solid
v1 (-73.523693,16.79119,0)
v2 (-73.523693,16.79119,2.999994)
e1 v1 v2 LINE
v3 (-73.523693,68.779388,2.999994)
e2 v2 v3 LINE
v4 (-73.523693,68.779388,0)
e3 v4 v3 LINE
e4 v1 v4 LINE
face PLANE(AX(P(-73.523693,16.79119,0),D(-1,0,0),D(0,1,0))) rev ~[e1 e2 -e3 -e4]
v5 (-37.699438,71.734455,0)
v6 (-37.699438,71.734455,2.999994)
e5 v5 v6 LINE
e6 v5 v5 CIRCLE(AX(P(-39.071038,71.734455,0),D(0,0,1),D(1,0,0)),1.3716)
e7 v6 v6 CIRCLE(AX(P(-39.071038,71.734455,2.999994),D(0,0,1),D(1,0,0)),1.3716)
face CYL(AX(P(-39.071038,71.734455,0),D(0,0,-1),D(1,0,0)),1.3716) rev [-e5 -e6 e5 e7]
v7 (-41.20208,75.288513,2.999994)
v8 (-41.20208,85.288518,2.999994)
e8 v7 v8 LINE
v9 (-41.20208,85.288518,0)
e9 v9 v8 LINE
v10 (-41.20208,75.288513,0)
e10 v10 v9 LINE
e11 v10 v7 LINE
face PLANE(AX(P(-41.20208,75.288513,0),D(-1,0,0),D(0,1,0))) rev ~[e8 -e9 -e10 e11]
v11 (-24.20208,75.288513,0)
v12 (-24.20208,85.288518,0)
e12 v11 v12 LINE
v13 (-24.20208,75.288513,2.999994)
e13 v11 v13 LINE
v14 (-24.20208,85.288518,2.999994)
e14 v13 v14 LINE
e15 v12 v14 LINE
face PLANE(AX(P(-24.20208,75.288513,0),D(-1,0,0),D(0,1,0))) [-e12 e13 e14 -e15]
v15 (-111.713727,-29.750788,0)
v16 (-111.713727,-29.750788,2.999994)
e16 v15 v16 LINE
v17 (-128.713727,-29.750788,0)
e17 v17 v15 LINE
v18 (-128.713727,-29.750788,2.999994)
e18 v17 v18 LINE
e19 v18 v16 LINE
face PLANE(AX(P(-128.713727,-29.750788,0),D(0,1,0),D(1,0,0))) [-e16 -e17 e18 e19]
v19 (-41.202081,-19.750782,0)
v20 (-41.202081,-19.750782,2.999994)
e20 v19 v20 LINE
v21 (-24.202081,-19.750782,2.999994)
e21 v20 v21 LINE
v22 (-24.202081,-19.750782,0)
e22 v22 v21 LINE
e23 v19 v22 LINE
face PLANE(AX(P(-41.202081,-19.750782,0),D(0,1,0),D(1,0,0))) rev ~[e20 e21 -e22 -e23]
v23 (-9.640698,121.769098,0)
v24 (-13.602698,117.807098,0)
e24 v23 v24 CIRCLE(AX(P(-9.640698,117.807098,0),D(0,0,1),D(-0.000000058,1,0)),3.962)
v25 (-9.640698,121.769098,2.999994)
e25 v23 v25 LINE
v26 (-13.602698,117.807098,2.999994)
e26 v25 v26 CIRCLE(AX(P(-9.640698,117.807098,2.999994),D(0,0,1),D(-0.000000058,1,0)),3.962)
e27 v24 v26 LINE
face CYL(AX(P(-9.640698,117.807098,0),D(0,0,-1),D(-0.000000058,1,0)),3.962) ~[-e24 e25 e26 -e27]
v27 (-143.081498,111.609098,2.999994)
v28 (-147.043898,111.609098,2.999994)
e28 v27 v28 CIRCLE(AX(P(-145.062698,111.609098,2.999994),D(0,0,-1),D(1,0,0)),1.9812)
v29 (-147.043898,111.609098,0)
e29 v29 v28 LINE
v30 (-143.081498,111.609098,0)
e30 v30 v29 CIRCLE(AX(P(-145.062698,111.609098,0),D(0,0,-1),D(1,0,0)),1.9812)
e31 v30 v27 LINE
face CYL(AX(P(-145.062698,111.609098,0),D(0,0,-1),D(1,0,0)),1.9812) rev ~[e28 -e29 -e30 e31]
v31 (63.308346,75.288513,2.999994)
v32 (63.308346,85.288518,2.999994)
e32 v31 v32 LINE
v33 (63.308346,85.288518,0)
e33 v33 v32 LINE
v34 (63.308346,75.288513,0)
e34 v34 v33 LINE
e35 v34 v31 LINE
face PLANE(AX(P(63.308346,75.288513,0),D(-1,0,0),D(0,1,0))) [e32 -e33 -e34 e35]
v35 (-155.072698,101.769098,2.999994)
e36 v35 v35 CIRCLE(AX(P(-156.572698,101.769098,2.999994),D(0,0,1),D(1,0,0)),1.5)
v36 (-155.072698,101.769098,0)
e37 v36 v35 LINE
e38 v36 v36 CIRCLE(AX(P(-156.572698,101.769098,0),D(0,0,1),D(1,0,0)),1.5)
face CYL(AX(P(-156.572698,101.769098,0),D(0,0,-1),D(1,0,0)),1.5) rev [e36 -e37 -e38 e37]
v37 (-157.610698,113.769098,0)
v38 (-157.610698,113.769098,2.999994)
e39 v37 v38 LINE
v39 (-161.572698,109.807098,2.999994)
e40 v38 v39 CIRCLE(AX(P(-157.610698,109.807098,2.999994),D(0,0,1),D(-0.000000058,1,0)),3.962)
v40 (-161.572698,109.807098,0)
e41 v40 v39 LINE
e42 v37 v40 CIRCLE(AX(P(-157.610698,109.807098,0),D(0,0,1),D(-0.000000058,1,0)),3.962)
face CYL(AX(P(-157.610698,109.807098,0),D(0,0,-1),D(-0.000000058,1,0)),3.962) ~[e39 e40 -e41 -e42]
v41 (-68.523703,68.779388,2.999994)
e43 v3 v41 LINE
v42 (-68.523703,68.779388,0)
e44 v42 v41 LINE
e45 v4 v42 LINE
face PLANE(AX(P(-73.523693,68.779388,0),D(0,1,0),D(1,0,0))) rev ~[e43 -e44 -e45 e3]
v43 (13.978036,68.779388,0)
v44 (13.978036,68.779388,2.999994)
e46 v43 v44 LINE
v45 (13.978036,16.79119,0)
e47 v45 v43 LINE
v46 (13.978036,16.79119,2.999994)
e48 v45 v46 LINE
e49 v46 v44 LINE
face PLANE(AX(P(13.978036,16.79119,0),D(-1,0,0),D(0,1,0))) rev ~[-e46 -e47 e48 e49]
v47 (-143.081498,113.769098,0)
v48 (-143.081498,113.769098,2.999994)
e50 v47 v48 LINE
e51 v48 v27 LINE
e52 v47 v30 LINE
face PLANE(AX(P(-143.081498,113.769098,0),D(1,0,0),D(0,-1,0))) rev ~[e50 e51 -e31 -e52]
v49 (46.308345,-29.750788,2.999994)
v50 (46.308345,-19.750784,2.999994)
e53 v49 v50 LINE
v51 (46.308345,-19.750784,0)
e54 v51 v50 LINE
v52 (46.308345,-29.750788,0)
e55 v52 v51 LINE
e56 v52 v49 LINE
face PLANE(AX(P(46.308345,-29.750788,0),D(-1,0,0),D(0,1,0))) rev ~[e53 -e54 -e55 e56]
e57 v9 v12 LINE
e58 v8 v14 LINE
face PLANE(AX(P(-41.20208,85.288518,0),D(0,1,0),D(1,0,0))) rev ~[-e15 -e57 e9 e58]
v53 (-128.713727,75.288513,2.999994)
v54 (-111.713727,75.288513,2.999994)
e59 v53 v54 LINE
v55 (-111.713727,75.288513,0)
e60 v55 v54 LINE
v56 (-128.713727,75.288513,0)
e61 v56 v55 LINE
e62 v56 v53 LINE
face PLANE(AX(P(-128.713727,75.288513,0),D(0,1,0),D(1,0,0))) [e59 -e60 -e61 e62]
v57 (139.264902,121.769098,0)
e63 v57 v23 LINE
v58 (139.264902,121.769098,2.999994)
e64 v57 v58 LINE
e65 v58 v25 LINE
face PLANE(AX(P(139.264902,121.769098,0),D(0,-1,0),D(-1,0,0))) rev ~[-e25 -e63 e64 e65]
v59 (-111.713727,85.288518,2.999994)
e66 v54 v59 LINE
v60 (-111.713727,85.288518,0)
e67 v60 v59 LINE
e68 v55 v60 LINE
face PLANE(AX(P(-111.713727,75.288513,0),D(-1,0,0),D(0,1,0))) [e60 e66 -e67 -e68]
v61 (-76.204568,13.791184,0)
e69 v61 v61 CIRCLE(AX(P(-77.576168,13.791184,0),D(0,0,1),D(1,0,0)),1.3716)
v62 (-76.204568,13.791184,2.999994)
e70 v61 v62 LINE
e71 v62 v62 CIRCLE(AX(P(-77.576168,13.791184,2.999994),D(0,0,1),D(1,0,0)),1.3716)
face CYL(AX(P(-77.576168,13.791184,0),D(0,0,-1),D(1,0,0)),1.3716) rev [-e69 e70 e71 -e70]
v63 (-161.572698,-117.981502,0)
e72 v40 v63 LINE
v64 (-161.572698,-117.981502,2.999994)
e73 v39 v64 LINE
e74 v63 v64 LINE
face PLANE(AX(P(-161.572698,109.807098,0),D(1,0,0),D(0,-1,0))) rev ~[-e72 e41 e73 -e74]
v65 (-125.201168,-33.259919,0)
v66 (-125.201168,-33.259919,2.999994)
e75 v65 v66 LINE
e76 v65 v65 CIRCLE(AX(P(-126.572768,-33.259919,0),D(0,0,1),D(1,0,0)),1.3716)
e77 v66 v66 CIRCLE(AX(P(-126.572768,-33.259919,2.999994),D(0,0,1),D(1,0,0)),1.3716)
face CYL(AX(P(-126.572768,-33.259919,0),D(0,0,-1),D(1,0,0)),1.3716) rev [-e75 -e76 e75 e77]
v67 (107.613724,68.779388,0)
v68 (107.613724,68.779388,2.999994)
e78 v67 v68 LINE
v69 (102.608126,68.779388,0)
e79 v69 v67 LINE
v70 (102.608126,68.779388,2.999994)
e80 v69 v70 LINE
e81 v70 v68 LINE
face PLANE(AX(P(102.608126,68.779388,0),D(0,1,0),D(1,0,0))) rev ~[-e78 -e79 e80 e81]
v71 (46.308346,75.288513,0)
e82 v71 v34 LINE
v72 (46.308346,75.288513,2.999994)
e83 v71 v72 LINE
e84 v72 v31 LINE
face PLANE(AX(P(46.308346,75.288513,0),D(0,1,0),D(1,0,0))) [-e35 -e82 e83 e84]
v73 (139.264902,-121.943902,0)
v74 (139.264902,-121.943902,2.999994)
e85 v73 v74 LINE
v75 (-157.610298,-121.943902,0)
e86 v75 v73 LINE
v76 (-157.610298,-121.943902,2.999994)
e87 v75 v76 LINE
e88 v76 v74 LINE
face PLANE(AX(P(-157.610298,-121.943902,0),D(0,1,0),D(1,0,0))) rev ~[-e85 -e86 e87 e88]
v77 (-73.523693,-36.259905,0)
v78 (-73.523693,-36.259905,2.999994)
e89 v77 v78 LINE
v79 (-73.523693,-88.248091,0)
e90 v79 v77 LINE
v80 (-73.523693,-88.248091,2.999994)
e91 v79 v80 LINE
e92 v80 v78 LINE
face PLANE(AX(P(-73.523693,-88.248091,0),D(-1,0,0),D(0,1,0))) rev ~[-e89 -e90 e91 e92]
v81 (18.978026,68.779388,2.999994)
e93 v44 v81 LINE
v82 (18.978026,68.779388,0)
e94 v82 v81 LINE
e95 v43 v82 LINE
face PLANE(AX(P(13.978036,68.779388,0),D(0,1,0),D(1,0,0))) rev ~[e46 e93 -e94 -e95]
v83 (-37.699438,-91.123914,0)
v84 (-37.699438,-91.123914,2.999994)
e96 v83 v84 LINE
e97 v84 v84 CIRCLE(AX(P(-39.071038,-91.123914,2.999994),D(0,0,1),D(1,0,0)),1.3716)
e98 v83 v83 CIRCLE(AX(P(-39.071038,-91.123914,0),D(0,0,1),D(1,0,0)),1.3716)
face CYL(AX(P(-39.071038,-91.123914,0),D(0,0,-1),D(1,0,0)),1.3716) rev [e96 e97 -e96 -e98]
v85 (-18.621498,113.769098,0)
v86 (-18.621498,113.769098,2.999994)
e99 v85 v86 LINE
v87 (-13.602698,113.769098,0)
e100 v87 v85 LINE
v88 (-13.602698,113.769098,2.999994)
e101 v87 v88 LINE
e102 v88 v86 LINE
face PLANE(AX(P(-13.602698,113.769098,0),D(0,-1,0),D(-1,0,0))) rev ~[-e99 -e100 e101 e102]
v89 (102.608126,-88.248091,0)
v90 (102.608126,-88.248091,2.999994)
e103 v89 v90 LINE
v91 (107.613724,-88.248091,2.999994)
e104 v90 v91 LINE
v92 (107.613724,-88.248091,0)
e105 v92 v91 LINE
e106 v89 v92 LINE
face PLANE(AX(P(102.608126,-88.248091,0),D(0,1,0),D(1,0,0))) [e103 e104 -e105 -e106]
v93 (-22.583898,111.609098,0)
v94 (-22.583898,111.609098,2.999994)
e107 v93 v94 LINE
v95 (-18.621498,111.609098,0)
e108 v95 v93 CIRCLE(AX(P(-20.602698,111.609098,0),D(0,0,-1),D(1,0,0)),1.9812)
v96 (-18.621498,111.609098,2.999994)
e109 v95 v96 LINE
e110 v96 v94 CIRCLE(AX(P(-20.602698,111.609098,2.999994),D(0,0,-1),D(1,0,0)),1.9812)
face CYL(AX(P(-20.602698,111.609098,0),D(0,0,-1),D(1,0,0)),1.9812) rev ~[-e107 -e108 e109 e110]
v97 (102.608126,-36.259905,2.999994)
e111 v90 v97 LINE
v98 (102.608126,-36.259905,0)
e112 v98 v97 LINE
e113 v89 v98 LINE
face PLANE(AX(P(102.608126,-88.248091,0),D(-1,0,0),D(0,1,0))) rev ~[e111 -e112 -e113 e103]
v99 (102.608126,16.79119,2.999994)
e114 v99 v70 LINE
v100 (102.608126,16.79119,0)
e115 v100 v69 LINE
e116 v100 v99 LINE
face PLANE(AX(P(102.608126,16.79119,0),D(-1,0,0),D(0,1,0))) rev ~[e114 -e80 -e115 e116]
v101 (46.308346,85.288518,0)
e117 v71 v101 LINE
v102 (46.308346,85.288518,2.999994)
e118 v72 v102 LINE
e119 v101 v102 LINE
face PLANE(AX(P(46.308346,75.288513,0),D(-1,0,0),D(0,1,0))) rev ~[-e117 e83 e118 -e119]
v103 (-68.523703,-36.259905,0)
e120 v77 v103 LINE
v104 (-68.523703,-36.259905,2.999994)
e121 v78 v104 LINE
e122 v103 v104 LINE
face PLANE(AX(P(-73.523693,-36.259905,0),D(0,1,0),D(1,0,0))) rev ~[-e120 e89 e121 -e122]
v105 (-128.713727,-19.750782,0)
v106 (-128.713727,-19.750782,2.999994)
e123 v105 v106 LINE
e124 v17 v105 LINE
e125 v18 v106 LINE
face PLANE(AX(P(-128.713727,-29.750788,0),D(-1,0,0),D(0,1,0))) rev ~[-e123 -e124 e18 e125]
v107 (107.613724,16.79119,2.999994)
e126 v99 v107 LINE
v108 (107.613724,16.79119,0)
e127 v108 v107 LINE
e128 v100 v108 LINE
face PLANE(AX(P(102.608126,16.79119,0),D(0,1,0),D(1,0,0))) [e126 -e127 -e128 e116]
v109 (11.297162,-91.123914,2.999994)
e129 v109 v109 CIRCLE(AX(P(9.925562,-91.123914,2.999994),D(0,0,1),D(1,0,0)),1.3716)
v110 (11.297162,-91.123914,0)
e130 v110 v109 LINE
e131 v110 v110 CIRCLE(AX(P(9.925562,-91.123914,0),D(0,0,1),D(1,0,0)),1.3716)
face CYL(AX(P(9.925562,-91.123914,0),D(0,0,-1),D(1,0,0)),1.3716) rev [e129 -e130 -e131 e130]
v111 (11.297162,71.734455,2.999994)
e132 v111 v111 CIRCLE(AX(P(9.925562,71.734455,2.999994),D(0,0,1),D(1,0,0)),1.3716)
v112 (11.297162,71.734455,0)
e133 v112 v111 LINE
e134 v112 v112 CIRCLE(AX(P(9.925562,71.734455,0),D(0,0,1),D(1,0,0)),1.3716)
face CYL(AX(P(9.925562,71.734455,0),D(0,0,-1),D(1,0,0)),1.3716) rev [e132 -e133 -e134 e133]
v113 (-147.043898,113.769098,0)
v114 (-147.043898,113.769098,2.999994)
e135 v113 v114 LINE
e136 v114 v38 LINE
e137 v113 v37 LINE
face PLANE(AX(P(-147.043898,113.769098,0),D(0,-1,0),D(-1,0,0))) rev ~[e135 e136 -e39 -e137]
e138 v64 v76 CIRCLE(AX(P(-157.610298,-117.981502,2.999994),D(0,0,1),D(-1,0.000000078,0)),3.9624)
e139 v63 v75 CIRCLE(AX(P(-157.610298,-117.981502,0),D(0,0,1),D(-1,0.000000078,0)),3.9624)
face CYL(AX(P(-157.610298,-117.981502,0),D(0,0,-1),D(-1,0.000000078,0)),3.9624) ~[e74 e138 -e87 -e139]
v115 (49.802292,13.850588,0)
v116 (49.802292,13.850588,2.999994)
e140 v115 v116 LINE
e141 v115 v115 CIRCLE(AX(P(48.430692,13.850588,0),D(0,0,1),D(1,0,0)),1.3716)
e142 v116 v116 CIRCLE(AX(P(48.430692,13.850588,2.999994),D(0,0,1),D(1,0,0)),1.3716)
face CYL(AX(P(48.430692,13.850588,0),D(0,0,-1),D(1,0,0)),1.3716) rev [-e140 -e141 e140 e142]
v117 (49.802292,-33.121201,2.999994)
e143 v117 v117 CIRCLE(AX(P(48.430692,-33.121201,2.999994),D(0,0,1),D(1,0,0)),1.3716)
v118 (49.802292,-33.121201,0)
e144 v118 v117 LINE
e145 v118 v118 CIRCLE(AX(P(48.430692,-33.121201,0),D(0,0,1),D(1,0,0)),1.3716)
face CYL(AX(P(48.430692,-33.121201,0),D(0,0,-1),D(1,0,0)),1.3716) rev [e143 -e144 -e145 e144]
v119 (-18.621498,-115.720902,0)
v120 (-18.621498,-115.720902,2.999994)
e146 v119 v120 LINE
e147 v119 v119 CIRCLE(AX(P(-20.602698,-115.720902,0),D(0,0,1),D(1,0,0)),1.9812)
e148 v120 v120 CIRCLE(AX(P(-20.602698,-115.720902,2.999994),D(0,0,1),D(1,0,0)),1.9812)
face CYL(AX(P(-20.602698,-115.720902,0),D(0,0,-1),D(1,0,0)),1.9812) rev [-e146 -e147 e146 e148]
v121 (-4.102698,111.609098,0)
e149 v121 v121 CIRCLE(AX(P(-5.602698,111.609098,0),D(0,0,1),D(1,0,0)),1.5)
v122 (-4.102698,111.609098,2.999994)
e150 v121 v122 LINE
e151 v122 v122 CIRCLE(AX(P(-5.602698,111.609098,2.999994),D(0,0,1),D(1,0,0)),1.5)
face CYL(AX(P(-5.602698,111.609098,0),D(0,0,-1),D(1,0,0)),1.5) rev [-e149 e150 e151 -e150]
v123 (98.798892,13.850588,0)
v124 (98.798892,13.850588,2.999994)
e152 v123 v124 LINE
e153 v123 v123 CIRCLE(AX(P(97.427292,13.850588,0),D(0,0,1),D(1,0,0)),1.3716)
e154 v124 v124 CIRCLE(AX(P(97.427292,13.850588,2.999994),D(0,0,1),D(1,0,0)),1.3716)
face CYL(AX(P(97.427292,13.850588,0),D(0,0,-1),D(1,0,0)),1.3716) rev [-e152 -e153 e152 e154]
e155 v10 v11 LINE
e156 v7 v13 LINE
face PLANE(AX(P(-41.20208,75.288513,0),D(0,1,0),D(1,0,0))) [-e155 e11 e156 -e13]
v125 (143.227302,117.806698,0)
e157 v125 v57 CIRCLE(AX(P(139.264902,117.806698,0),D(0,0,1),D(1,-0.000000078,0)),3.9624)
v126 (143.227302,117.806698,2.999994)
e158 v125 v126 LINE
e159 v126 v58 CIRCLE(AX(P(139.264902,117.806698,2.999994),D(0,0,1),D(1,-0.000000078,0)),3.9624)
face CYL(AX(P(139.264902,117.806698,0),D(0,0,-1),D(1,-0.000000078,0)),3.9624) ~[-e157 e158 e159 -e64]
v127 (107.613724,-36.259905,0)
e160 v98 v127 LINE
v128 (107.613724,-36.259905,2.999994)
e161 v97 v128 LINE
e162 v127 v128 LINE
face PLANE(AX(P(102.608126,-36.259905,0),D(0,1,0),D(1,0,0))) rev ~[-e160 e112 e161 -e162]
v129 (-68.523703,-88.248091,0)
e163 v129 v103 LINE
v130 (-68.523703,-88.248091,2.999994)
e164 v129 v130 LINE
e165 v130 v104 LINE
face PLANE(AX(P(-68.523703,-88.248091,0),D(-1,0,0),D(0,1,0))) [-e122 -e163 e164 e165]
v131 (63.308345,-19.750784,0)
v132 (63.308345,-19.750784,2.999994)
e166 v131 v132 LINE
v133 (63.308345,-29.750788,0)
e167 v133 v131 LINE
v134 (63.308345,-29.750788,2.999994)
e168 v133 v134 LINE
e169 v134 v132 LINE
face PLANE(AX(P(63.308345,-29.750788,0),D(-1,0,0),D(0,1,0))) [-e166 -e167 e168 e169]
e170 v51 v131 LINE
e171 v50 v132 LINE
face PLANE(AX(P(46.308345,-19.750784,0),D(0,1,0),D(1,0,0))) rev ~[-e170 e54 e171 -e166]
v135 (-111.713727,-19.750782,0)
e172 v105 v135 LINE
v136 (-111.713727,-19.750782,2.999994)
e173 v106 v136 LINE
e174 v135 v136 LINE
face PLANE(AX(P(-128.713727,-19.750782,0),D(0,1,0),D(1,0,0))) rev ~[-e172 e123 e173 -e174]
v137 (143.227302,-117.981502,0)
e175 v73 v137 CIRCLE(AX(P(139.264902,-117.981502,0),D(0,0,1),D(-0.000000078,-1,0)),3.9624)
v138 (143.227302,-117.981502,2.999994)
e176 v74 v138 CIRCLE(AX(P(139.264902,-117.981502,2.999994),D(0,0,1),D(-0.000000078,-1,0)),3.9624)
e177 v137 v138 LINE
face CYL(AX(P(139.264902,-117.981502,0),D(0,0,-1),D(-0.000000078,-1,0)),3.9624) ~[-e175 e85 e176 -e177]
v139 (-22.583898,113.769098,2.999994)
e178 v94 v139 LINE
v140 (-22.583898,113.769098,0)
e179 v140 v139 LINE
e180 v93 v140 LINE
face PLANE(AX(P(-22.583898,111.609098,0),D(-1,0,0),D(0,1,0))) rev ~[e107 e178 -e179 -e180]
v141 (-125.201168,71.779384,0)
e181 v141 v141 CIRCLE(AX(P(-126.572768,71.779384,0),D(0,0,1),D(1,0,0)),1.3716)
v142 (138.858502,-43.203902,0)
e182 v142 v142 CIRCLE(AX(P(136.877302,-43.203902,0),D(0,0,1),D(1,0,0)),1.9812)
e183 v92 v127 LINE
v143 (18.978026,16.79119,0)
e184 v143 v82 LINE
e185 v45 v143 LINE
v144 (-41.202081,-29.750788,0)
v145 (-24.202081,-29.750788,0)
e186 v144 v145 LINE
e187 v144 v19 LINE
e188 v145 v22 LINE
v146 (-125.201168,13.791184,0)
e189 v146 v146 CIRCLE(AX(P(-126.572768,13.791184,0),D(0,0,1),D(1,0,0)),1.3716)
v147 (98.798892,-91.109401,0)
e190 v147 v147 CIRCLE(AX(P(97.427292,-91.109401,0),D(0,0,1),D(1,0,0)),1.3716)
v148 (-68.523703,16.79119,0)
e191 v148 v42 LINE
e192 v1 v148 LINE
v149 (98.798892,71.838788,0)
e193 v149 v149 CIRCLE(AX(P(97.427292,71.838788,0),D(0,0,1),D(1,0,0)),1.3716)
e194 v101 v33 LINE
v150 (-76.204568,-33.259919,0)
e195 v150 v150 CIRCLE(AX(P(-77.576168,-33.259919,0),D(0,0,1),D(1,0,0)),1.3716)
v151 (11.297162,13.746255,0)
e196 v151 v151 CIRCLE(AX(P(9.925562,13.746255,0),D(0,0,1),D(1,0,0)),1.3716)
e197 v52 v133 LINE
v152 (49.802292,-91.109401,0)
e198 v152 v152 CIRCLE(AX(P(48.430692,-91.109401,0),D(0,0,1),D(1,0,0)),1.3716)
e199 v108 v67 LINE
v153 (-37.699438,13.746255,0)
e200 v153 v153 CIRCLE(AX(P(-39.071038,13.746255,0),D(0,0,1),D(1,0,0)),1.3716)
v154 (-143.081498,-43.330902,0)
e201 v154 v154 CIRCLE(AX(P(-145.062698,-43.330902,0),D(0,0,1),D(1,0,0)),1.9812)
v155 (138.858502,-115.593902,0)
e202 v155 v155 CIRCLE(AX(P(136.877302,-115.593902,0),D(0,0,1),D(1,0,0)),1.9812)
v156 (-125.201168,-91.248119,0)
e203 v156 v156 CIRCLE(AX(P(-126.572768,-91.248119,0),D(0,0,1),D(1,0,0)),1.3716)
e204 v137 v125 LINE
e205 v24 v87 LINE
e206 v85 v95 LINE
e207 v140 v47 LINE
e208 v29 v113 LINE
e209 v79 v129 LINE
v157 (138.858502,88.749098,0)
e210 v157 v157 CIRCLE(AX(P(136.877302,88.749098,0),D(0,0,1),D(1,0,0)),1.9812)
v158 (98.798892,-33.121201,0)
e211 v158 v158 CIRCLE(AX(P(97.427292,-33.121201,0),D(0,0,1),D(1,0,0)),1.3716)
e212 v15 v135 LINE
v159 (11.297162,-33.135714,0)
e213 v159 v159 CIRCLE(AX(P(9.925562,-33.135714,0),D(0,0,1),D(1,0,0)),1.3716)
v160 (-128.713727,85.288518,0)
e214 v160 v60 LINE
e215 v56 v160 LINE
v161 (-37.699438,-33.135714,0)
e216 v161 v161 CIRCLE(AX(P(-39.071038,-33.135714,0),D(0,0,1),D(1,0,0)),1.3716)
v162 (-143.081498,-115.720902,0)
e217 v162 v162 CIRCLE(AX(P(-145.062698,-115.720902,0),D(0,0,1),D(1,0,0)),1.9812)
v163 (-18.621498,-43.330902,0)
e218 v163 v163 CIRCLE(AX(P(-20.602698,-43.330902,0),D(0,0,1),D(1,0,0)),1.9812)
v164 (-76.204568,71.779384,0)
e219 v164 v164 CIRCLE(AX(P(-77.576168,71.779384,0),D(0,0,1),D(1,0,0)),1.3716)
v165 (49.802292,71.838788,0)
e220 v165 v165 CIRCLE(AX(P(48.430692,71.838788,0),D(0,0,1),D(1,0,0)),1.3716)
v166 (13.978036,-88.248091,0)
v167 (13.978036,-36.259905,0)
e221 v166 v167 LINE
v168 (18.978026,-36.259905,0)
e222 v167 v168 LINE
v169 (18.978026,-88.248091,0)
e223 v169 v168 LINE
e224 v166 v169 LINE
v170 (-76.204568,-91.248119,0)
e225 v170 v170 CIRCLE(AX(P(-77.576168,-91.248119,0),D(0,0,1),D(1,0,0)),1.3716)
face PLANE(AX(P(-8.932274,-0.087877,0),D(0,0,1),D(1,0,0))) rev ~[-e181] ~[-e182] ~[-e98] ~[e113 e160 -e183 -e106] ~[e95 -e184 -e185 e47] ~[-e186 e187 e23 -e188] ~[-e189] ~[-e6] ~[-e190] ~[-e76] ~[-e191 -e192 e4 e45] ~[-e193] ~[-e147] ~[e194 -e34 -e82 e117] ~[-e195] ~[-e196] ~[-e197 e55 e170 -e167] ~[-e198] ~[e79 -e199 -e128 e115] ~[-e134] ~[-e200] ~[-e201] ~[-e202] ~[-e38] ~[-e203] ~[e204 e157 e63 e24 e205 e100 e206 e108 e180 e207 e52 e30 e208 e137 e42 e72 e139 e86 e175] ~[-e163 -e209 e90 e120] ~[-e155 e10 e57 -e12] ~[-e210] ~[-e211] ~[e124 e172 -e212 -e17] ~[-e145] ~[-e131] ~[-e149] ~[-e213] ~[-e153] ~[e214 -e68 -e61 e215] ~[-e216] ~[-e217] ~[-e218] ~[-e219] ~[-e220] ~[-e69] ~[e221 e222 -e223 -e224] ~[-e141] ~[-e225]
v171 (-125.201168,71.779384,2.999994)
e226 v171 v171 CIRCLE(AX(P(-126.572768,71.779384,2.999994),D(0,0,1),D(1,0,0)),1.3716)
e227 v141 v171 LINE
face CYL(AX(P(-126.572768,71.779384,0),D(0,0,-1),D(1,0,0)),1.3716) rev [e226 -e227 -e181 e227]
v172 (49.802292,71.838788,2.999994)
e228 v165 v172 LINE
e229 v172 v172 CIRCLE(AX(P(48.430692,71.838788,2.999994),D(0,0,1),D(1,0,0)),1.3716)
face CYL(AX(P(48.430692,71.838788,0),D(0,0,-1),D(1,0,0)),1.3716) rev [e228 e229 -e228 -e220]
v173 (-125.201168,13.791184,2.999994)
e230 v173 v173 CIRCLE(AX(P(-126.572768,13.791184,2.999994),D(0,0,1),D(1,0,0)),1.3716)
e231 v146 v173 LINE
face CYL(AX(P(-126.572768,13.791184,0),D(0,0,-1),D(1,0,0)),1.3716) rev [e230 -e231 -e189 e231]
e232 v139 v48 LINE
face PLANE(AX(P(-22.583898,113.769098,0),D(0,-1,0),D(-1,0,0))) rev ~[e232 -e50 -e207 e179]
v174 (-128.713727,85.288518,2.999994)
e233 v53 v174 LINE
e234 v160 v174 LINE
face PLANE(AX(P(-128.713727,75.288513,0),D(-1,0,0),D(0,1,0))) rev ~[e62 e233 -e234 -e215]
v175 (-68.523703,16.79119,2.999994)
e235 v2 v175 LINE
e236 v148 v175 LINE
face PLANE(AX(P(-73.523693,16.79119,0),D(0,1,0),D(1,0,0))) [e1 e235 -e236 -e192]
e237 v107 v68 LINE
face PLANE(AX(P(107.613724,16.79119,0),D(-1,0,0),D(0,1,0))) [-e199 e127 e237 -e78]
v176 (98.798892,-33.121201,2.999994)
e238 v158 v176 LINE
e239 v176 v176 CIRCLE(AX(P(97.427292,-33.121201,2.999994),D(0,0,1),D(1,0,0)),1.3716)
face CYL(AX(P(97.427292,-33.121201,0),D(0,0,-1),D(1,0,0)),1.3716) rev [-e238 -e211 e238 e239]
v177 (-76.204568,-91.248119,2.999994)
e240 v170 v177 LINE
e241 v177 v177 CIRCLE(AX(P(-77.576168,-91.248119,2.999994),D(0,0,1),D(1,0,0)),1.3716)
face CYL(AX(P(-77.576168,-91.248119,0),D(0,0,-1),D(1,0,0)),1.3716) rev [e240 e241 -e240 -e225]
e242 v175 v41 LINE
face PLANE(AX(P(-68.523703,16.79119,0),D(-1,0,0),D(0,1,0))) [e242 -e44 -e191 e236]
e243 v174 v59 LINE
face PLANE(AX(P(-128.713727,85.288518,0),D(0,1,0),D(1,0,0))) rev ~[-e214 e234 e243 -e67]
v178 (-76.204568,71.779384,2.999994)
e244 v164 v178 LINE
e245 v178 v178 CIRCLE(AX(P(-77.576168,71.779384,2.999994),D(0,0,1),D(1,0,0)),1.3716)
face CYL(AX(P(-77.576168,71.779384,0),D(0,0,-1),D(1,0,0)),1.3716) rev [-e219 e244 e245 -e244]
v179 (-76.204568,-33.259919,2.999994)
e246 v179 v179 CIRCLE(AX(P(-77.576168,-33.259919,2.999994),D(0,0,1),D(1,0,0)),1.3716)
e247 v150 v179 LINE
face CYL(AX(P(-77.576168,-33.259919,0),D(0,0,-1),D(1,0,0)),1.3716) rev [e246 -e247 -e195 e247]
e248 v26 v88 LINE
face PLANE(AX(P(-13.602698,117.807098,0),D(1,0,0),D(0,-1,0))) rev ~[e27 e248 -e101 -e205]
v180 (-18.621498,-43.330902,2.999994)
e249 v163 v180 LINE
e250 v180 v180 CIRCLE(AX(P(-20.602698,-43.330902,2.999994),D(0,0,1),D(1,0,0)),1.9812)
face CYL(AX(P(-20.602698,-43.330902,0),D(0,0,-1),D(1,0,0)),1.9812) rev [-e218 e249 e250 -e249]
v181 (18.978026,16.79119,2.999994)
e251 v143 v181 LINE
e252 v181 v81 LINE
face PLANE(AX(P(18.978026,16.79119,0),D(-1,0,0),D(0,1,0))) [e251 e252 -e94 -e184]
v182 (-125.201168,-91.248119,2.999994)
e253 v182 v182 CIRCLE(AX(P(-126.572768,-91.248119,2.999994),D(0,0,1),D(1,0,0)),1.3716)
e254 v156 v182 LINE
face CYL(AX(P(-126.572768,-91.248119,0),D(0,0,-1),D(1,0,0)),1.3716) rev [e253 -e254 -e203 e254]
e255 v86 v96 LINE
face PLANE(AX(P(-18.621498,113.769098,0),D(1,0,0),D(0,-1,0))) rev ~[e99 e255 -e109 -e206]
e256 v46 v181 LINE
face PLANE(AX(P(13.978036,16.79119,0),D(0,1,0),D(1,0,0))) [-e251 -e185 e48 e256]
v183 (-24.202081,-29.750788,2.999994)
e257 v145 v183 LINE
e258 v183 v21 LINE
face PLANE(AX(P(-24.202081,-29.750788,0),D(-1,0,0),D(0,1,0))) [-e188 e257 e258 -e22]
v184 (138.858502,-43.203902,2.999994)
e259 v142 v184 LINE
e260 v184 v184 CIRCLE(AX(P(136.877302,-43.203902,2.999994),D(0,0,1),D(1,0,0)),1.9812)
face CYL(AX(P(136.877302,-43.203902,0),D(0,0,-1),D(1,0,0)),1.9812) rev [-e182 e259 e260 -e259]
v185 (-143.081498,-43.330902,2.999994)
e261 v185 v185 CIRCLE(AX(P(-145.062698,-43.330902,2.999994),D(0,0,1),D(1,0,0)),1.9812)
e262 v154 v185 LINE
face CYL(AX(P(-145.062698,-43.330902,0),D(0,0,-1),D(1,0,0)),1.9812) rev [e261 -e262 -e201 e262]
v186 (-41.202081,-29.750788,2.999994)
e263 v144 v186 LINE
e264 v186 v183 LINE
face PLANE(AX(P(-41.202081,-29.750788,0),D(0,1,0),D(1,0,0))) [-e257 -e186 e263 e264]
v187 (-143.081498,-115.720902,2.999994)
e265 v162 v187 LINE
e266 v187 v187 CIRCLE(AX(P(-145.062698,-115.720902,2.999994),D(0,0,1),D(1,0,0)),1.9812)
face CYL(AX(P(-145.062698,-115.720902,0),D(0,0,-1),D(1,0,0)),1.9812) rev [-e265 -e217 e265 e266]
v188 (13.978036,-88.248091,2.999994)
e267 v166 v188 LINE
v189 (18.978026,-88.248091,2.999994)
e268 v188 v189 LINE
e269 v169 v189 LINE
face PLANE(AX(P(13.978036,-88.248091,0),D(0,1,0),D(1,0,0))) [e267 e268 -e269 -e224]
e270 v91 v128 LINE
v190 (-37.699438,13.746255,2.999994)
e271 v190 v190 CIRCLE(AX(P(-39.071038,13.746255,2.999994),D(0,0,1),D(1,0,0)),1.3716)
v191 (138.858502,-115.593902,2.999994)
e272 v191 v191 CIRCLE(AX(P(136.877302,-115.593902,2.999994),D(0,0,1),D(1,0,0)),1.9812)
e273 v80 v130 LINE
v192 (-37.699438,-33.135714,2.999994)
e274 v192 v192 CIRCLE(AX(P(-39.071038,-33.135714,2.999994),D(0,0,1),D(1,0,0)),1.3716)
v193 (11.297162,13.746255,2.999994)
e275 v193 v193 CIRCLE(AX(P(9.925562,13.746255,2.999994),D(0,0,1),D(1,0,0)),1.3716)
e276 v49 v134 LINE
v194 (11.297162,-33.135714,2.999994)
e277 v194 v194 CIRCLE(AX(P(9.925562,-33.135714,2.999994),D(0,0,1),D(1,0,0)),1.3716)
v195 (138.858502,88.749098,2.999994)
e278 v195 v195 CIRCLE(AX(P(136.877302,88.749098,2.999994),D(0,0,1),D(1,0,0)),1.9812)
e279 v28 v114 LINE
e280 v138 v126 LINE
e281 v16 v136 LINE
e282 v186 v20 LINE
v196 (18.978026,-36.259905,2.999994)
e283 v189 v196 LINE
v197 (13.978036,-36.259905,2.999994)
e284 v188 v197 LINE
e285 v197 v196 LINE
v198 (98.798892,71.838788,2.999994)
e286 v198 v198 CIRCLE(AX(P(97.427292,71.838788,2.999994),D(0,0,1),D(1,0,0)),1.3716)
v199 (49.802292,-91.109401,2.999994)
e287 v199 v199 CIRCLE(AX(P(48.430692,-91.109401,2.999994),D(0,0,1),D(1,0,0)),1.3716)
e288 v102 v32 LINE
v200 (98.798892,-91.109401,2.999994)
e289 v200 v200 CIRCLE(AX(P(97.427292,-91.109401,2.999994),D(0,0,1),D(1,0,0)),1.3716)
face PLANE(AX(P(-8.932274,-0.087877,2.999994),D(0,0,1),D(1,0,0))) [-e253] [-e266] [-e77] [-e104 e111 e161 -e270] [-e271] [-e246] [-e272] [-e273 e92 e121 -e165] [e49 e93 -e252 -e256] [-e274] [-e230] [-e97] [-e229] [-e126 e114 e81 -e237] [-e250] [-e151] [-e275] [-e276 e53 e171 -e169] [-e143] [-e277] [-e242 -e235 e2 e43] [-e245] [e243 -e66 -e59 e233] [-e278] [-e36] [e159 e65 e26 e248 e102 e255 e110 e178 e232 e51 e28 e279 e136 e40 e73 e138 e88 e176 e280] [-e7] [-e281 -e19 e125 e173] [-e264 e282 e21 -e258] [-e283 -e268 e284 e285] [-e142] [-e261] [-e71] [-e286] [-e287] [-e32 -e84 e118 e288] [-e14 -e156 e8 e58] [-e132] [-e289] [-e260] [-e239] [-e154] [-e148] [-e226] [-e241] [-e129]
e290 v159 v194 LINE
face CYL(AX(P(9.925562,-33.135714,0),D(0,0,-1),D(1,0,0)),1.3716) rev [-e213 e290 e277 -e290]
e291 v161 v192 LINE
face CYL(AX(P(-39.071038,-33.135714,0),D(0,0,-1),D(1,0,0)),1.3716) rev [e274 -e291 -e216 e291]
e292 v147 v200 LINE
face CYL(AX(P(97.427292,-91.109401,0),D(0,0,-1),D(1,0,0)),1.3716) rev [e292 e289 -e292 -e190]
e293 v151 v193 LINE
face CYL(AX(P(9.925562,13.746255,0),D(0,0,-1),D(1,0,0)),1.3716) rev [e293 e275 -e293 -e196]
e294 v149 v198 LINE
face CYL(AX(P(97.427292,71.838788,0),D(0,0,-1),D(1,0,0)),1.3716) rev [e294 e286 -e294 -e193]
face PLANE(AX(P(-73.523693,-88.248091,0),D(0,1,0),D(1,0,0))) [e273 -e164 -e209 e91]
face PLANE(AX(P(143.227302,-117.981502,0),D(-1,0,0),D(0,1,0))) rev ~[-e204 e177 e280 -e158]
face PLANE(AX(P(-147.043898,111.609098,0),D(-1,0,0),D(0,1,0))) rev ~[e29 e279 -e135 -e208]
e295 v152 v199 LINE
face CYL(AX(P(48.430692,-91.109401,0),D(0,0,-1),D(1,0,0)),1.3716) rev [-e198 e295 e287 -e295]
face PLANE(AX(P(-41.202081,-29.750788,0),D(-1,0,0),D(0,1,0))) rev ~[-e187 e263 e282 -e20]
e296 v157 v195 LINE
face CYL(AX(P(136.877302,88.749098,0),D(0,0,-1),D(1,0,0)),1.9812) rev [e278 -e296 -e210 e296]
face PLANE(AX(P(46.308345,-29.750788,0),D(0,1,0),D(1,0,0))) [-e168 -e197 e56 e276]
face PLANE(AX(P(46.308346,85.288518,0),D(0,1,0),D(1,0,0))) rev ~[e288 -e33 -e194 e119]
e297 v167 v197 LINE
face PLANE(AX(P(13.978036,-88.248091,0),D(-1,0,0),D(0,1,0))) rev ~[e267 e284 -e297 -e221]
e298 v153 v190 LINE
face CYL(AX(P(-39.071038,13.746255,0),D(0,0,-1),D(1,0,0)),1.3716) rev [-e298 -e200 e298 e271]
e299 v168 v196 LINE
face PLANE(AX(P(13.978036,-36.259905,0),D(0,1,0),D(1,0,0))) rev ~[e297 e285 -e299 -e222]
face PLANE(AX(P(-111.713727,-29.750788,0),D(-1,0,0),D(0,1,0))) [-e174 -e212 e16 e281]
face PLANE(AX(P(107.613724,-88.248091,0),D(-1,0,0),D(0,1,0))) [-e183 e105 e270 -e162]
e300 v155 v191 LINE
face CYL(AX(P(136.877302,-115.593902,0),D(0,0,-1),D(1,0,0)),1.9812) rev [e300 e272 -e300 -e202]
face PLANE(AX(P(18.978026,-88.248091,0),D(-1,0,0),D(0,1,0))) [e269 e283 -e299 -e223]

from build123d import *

# Parameters (mm, degrees)
F0_R     = 1.9812
F0_R_2   = 1.3716
F0_W     = 4.99999
F0_H     = 51.988186
F0_W_2   = 17
F0_H_2   = 10.000005
F0_W_3   = 5.005598
F0_H_3   = 51.988198
F0_R_3   = 1.5
F1_DEPTH = 2.999994


with BuildPart() as f1:
    # F0 (on Top) → F1 (new body)
    with BuildSketch(Plane.XY):
        with BuildLine():
            ThreePointArc((-161.572698, -117.981502), (-160.412138, -120.783342), (-157.610298, -121.943902))
            Line((-157.610298, -121.943902), (139.264902, -121.943902))
            ThreePointArc((139.264902, -121.943902), (142.066742, -120.783342), (143.227302, -117.981502))
            Line((143.227302, -117.981502), (143.227302, 117.806698))
            ThreePointArc((143.227302, 117.806698), (142.066742, 120.608538), (139.264902, 121.769098))
            Line((139.264902, 121.769098), (-9.640698, 121.769098))
            ThreePointArc((-9.640698, 121.769098), (-12.442255, 120.608655), (-13.602698, 117.807098))
            Line((-13.602698, 117.807098), (-13.602698, 113.769098))
            Line((-13.602698, 113.769098), (-18.621498, 113.769098))
            Line((-18.621498, 113.769098), (-18.621498, 111.609098))
            ThreePointArc((-18.621498, 111.609098), (-20.602698, 109.627898), (-22.583898, 111.609098))
            Line((-22.583898, 111.609098), (-22.583898, 113.769098))
            Line((-22.583898, 113.769098), (-143.081498, 113.769098))
            Line((-143.081498, 113.769098), (-143.081498, 111.609098))
            ThreePointArc((-143.081498, 111.609098), (-145.062698, 109.627898), (-147.043898, 111.609098))
            Line((-147.043898, 111.609098), (-147.043898, 113.769098))
            Line((-147.043898, 113.769098), (-157.610698, 113.769098))
            ThreePointArc((-157.610698, 113.769098), (-160.412255, 112.608655), (-161.572698, 109.807098))
            Line((-161.572698, 109.807098), (-161.572698, -117.981502))
        make_face()
        with Locations((-145.062698, -115.720902)):
            Circle(F0_R, mode=Mode.SUBTRACT)
        with Locations((-126.572768, -91.248119)):
            Circle(F0_R_2, mode=Mode.SUBTRACT)
        with Locations((-20.602698, -115.720902)):
            Circle(F0_R, mode=Mode.SUBTRACT)
        with Locations((-77.576168, -91.248119)):
            Circle(F0_R_2, mode=Mode.SUBTRACT)
        with Locations((-71.023698, -62.253998)):
            Rectangle(F0_W, F0_H, mode=Mode.SUBTRACT)
        with Locations((-39.071038, -91.123914)):
            Circle(F0_R_2, mode=Mode.SUBTRACT)
        with Locations((-145.062698, -43.330902)):
            Circle(F0_R, mode=Mode.SUBTRACT)
        with Locations((-126.572768, -33.259919)):
            Circle(F0_R_2, mode=Mode.SUBTRACT)
        with Locations((-120.213727, -24.750785)):
            Rectangle(F0_W_2, F0_H_2, mode=Mode.SUBTRACT)
        with Locations((-77.576168, -33.259919)):
            Circle(F0_R_2, mode=Mode.SUBTRACT)
        with Locations((-39.071038, -33.135714)):
            Circle(F0_R_2, mode=Mode.SUBTRACT)
        with Locations((-20.602698, -43.330902)):
            Circle(F0_R, mode=Mode.SUBTRACT)
        with Locations((-32.702081, -24.750785)):
            Rectangle(F0_W_2, F0_H_2, mode=Mode.SUBTRACT)
        with Locations((9.925562, -91.123914)):
            Circle(F0_R_2, mode=Mode.SUBTRACT)
        with Locations((16.478031, -62.253998)):
            Rectangle(F0_W, F0_H, mode=Mode.SUBTRACT)
        with Locations((48.430692, -91.109401)):
            Circle(F0_R_2, mode=Mode.SUBTRACT)
        with Locations((136.877302, -115.593902)):
            Circle(F0_R, mode=Mode.SUBTRACT)
        with Locations((97.427292, -91.109401)):
            Circle(F0_R_2, mode=Mode.SUBTRACT)
        with Locations((105.110925, -62.253998)):
            Rectangle(F0_W_3, F0_H, mode=Mode.SUBTRACT)
        with Locations((9.925562, -33.135714)):
            Circle(F0_R_2, mode=Mode.SUBTRACT)
        with Locations((48.430692, -33.121201)):
            Circle(F0_R_2, mode=Mode.SUBTRACT)
        with Locations((54.808345, -24.750786)):
            Rectangle(F0_W_2, F0_H_2, mode=Mode.SUBTRACT)
        with Locations((97.427292, -33.121201)):
            Circle(F0_R_2, mode=Mode.SUBTRACT)
        with Locations((136.877302, -43.203902)):
            Circle(F0_R, mode=Mode.SUBTRACT)
        with Locations((-126.572768, 13.791184)):
            Circle(F0_R_2, mode=Mode.SUBTRACT)
        with Locations((-77.576168, 13.791184)):
            Circle(F0_R_2, mode=Mode.SUBTRACT)
        with Locations((-39.071038, 13.746255)):
            Circle(F0_R_2, mode=Mode.SUBTRACT)
        with Locations((-71.023698, 42.785289)):
            Rectangle(F0_W, F0_H_3, mode=Mode.SUBTRACT)
        with Locations((-126.572768, 71.779384)):
            Circle(F0_R_2, mode=Mode.SUBTRACT)
        with Locations((-120.213727, 80.288516)):
            Rectangle(F0_W_2, F0_H_2, mode=Mode.SUBTRACT)
        with Locations((-156.572698, 101.769098)):
            Circle(F0_R_3, mode=Mode.SUBTRACT)
        with Locations((-77.576168, 71.779384)):
            Circle(F0_R_2, mode=Mode.SUBTRACT)
        with Locations((-39.071038, 71.734455)):
            Circle(F0_R_2, mode=Mode.SUBTRACT)
        with Locations((-32.70208, 80.288516)):
            Rectangle(F0_W_2, F0_H_2, mode=Mode.SUBTRACT)
        with Locations((9.925562, 13.746255)):
            Circle(F0_R_2, mode=Mode.SUBTRACT)
        with Locations((48.430692, 13.850588)):
            Circle(F0_R_2, mode=Mode.SUBTRACT)
        with Locations((16.478031, 42.785289)):
            Rectangle(F0_W, F0_H_3, mode=Mode.SUBTRACT)
        with Locations((97.427292, 13.850588)):
            Circle(F0_R_2, mode=Mode.SUBTRACT)
        with Locations((105.110925, 42.785289)):
            Rectangle(F0_W_3, F0_H_3, mode=Mode.SUBTRACT)
        with Locations((9.925562, 71.734455)):
            Circle(F0_R_2, mode=Mode.SUBTRACT)
        with Locations((48.430692, 71.838788)):
            Circle(F0_R_2, mode=Mode.SUBTRACT)
        with Locations((54.808346, 80.288516)):
            Rectangle(F0_W_2, F0_H_2, mode=Mode.SUBTRACT)
        with Locations((-5.602698, 111.609098)):
            Circle(F0_R_3, mode=Mode.SUBTRACT)
        with Locations((97.427292, 71.838788)):
            Circle(F0_R_2, mode=Mode.SUBTRACT)
        with Locations((136.877302, 88.749098)):
            Circle(F0_R, mode=Mode.SUBTRACT)
    extrude(amount=F1_DEPTH)


solid = f1.part
